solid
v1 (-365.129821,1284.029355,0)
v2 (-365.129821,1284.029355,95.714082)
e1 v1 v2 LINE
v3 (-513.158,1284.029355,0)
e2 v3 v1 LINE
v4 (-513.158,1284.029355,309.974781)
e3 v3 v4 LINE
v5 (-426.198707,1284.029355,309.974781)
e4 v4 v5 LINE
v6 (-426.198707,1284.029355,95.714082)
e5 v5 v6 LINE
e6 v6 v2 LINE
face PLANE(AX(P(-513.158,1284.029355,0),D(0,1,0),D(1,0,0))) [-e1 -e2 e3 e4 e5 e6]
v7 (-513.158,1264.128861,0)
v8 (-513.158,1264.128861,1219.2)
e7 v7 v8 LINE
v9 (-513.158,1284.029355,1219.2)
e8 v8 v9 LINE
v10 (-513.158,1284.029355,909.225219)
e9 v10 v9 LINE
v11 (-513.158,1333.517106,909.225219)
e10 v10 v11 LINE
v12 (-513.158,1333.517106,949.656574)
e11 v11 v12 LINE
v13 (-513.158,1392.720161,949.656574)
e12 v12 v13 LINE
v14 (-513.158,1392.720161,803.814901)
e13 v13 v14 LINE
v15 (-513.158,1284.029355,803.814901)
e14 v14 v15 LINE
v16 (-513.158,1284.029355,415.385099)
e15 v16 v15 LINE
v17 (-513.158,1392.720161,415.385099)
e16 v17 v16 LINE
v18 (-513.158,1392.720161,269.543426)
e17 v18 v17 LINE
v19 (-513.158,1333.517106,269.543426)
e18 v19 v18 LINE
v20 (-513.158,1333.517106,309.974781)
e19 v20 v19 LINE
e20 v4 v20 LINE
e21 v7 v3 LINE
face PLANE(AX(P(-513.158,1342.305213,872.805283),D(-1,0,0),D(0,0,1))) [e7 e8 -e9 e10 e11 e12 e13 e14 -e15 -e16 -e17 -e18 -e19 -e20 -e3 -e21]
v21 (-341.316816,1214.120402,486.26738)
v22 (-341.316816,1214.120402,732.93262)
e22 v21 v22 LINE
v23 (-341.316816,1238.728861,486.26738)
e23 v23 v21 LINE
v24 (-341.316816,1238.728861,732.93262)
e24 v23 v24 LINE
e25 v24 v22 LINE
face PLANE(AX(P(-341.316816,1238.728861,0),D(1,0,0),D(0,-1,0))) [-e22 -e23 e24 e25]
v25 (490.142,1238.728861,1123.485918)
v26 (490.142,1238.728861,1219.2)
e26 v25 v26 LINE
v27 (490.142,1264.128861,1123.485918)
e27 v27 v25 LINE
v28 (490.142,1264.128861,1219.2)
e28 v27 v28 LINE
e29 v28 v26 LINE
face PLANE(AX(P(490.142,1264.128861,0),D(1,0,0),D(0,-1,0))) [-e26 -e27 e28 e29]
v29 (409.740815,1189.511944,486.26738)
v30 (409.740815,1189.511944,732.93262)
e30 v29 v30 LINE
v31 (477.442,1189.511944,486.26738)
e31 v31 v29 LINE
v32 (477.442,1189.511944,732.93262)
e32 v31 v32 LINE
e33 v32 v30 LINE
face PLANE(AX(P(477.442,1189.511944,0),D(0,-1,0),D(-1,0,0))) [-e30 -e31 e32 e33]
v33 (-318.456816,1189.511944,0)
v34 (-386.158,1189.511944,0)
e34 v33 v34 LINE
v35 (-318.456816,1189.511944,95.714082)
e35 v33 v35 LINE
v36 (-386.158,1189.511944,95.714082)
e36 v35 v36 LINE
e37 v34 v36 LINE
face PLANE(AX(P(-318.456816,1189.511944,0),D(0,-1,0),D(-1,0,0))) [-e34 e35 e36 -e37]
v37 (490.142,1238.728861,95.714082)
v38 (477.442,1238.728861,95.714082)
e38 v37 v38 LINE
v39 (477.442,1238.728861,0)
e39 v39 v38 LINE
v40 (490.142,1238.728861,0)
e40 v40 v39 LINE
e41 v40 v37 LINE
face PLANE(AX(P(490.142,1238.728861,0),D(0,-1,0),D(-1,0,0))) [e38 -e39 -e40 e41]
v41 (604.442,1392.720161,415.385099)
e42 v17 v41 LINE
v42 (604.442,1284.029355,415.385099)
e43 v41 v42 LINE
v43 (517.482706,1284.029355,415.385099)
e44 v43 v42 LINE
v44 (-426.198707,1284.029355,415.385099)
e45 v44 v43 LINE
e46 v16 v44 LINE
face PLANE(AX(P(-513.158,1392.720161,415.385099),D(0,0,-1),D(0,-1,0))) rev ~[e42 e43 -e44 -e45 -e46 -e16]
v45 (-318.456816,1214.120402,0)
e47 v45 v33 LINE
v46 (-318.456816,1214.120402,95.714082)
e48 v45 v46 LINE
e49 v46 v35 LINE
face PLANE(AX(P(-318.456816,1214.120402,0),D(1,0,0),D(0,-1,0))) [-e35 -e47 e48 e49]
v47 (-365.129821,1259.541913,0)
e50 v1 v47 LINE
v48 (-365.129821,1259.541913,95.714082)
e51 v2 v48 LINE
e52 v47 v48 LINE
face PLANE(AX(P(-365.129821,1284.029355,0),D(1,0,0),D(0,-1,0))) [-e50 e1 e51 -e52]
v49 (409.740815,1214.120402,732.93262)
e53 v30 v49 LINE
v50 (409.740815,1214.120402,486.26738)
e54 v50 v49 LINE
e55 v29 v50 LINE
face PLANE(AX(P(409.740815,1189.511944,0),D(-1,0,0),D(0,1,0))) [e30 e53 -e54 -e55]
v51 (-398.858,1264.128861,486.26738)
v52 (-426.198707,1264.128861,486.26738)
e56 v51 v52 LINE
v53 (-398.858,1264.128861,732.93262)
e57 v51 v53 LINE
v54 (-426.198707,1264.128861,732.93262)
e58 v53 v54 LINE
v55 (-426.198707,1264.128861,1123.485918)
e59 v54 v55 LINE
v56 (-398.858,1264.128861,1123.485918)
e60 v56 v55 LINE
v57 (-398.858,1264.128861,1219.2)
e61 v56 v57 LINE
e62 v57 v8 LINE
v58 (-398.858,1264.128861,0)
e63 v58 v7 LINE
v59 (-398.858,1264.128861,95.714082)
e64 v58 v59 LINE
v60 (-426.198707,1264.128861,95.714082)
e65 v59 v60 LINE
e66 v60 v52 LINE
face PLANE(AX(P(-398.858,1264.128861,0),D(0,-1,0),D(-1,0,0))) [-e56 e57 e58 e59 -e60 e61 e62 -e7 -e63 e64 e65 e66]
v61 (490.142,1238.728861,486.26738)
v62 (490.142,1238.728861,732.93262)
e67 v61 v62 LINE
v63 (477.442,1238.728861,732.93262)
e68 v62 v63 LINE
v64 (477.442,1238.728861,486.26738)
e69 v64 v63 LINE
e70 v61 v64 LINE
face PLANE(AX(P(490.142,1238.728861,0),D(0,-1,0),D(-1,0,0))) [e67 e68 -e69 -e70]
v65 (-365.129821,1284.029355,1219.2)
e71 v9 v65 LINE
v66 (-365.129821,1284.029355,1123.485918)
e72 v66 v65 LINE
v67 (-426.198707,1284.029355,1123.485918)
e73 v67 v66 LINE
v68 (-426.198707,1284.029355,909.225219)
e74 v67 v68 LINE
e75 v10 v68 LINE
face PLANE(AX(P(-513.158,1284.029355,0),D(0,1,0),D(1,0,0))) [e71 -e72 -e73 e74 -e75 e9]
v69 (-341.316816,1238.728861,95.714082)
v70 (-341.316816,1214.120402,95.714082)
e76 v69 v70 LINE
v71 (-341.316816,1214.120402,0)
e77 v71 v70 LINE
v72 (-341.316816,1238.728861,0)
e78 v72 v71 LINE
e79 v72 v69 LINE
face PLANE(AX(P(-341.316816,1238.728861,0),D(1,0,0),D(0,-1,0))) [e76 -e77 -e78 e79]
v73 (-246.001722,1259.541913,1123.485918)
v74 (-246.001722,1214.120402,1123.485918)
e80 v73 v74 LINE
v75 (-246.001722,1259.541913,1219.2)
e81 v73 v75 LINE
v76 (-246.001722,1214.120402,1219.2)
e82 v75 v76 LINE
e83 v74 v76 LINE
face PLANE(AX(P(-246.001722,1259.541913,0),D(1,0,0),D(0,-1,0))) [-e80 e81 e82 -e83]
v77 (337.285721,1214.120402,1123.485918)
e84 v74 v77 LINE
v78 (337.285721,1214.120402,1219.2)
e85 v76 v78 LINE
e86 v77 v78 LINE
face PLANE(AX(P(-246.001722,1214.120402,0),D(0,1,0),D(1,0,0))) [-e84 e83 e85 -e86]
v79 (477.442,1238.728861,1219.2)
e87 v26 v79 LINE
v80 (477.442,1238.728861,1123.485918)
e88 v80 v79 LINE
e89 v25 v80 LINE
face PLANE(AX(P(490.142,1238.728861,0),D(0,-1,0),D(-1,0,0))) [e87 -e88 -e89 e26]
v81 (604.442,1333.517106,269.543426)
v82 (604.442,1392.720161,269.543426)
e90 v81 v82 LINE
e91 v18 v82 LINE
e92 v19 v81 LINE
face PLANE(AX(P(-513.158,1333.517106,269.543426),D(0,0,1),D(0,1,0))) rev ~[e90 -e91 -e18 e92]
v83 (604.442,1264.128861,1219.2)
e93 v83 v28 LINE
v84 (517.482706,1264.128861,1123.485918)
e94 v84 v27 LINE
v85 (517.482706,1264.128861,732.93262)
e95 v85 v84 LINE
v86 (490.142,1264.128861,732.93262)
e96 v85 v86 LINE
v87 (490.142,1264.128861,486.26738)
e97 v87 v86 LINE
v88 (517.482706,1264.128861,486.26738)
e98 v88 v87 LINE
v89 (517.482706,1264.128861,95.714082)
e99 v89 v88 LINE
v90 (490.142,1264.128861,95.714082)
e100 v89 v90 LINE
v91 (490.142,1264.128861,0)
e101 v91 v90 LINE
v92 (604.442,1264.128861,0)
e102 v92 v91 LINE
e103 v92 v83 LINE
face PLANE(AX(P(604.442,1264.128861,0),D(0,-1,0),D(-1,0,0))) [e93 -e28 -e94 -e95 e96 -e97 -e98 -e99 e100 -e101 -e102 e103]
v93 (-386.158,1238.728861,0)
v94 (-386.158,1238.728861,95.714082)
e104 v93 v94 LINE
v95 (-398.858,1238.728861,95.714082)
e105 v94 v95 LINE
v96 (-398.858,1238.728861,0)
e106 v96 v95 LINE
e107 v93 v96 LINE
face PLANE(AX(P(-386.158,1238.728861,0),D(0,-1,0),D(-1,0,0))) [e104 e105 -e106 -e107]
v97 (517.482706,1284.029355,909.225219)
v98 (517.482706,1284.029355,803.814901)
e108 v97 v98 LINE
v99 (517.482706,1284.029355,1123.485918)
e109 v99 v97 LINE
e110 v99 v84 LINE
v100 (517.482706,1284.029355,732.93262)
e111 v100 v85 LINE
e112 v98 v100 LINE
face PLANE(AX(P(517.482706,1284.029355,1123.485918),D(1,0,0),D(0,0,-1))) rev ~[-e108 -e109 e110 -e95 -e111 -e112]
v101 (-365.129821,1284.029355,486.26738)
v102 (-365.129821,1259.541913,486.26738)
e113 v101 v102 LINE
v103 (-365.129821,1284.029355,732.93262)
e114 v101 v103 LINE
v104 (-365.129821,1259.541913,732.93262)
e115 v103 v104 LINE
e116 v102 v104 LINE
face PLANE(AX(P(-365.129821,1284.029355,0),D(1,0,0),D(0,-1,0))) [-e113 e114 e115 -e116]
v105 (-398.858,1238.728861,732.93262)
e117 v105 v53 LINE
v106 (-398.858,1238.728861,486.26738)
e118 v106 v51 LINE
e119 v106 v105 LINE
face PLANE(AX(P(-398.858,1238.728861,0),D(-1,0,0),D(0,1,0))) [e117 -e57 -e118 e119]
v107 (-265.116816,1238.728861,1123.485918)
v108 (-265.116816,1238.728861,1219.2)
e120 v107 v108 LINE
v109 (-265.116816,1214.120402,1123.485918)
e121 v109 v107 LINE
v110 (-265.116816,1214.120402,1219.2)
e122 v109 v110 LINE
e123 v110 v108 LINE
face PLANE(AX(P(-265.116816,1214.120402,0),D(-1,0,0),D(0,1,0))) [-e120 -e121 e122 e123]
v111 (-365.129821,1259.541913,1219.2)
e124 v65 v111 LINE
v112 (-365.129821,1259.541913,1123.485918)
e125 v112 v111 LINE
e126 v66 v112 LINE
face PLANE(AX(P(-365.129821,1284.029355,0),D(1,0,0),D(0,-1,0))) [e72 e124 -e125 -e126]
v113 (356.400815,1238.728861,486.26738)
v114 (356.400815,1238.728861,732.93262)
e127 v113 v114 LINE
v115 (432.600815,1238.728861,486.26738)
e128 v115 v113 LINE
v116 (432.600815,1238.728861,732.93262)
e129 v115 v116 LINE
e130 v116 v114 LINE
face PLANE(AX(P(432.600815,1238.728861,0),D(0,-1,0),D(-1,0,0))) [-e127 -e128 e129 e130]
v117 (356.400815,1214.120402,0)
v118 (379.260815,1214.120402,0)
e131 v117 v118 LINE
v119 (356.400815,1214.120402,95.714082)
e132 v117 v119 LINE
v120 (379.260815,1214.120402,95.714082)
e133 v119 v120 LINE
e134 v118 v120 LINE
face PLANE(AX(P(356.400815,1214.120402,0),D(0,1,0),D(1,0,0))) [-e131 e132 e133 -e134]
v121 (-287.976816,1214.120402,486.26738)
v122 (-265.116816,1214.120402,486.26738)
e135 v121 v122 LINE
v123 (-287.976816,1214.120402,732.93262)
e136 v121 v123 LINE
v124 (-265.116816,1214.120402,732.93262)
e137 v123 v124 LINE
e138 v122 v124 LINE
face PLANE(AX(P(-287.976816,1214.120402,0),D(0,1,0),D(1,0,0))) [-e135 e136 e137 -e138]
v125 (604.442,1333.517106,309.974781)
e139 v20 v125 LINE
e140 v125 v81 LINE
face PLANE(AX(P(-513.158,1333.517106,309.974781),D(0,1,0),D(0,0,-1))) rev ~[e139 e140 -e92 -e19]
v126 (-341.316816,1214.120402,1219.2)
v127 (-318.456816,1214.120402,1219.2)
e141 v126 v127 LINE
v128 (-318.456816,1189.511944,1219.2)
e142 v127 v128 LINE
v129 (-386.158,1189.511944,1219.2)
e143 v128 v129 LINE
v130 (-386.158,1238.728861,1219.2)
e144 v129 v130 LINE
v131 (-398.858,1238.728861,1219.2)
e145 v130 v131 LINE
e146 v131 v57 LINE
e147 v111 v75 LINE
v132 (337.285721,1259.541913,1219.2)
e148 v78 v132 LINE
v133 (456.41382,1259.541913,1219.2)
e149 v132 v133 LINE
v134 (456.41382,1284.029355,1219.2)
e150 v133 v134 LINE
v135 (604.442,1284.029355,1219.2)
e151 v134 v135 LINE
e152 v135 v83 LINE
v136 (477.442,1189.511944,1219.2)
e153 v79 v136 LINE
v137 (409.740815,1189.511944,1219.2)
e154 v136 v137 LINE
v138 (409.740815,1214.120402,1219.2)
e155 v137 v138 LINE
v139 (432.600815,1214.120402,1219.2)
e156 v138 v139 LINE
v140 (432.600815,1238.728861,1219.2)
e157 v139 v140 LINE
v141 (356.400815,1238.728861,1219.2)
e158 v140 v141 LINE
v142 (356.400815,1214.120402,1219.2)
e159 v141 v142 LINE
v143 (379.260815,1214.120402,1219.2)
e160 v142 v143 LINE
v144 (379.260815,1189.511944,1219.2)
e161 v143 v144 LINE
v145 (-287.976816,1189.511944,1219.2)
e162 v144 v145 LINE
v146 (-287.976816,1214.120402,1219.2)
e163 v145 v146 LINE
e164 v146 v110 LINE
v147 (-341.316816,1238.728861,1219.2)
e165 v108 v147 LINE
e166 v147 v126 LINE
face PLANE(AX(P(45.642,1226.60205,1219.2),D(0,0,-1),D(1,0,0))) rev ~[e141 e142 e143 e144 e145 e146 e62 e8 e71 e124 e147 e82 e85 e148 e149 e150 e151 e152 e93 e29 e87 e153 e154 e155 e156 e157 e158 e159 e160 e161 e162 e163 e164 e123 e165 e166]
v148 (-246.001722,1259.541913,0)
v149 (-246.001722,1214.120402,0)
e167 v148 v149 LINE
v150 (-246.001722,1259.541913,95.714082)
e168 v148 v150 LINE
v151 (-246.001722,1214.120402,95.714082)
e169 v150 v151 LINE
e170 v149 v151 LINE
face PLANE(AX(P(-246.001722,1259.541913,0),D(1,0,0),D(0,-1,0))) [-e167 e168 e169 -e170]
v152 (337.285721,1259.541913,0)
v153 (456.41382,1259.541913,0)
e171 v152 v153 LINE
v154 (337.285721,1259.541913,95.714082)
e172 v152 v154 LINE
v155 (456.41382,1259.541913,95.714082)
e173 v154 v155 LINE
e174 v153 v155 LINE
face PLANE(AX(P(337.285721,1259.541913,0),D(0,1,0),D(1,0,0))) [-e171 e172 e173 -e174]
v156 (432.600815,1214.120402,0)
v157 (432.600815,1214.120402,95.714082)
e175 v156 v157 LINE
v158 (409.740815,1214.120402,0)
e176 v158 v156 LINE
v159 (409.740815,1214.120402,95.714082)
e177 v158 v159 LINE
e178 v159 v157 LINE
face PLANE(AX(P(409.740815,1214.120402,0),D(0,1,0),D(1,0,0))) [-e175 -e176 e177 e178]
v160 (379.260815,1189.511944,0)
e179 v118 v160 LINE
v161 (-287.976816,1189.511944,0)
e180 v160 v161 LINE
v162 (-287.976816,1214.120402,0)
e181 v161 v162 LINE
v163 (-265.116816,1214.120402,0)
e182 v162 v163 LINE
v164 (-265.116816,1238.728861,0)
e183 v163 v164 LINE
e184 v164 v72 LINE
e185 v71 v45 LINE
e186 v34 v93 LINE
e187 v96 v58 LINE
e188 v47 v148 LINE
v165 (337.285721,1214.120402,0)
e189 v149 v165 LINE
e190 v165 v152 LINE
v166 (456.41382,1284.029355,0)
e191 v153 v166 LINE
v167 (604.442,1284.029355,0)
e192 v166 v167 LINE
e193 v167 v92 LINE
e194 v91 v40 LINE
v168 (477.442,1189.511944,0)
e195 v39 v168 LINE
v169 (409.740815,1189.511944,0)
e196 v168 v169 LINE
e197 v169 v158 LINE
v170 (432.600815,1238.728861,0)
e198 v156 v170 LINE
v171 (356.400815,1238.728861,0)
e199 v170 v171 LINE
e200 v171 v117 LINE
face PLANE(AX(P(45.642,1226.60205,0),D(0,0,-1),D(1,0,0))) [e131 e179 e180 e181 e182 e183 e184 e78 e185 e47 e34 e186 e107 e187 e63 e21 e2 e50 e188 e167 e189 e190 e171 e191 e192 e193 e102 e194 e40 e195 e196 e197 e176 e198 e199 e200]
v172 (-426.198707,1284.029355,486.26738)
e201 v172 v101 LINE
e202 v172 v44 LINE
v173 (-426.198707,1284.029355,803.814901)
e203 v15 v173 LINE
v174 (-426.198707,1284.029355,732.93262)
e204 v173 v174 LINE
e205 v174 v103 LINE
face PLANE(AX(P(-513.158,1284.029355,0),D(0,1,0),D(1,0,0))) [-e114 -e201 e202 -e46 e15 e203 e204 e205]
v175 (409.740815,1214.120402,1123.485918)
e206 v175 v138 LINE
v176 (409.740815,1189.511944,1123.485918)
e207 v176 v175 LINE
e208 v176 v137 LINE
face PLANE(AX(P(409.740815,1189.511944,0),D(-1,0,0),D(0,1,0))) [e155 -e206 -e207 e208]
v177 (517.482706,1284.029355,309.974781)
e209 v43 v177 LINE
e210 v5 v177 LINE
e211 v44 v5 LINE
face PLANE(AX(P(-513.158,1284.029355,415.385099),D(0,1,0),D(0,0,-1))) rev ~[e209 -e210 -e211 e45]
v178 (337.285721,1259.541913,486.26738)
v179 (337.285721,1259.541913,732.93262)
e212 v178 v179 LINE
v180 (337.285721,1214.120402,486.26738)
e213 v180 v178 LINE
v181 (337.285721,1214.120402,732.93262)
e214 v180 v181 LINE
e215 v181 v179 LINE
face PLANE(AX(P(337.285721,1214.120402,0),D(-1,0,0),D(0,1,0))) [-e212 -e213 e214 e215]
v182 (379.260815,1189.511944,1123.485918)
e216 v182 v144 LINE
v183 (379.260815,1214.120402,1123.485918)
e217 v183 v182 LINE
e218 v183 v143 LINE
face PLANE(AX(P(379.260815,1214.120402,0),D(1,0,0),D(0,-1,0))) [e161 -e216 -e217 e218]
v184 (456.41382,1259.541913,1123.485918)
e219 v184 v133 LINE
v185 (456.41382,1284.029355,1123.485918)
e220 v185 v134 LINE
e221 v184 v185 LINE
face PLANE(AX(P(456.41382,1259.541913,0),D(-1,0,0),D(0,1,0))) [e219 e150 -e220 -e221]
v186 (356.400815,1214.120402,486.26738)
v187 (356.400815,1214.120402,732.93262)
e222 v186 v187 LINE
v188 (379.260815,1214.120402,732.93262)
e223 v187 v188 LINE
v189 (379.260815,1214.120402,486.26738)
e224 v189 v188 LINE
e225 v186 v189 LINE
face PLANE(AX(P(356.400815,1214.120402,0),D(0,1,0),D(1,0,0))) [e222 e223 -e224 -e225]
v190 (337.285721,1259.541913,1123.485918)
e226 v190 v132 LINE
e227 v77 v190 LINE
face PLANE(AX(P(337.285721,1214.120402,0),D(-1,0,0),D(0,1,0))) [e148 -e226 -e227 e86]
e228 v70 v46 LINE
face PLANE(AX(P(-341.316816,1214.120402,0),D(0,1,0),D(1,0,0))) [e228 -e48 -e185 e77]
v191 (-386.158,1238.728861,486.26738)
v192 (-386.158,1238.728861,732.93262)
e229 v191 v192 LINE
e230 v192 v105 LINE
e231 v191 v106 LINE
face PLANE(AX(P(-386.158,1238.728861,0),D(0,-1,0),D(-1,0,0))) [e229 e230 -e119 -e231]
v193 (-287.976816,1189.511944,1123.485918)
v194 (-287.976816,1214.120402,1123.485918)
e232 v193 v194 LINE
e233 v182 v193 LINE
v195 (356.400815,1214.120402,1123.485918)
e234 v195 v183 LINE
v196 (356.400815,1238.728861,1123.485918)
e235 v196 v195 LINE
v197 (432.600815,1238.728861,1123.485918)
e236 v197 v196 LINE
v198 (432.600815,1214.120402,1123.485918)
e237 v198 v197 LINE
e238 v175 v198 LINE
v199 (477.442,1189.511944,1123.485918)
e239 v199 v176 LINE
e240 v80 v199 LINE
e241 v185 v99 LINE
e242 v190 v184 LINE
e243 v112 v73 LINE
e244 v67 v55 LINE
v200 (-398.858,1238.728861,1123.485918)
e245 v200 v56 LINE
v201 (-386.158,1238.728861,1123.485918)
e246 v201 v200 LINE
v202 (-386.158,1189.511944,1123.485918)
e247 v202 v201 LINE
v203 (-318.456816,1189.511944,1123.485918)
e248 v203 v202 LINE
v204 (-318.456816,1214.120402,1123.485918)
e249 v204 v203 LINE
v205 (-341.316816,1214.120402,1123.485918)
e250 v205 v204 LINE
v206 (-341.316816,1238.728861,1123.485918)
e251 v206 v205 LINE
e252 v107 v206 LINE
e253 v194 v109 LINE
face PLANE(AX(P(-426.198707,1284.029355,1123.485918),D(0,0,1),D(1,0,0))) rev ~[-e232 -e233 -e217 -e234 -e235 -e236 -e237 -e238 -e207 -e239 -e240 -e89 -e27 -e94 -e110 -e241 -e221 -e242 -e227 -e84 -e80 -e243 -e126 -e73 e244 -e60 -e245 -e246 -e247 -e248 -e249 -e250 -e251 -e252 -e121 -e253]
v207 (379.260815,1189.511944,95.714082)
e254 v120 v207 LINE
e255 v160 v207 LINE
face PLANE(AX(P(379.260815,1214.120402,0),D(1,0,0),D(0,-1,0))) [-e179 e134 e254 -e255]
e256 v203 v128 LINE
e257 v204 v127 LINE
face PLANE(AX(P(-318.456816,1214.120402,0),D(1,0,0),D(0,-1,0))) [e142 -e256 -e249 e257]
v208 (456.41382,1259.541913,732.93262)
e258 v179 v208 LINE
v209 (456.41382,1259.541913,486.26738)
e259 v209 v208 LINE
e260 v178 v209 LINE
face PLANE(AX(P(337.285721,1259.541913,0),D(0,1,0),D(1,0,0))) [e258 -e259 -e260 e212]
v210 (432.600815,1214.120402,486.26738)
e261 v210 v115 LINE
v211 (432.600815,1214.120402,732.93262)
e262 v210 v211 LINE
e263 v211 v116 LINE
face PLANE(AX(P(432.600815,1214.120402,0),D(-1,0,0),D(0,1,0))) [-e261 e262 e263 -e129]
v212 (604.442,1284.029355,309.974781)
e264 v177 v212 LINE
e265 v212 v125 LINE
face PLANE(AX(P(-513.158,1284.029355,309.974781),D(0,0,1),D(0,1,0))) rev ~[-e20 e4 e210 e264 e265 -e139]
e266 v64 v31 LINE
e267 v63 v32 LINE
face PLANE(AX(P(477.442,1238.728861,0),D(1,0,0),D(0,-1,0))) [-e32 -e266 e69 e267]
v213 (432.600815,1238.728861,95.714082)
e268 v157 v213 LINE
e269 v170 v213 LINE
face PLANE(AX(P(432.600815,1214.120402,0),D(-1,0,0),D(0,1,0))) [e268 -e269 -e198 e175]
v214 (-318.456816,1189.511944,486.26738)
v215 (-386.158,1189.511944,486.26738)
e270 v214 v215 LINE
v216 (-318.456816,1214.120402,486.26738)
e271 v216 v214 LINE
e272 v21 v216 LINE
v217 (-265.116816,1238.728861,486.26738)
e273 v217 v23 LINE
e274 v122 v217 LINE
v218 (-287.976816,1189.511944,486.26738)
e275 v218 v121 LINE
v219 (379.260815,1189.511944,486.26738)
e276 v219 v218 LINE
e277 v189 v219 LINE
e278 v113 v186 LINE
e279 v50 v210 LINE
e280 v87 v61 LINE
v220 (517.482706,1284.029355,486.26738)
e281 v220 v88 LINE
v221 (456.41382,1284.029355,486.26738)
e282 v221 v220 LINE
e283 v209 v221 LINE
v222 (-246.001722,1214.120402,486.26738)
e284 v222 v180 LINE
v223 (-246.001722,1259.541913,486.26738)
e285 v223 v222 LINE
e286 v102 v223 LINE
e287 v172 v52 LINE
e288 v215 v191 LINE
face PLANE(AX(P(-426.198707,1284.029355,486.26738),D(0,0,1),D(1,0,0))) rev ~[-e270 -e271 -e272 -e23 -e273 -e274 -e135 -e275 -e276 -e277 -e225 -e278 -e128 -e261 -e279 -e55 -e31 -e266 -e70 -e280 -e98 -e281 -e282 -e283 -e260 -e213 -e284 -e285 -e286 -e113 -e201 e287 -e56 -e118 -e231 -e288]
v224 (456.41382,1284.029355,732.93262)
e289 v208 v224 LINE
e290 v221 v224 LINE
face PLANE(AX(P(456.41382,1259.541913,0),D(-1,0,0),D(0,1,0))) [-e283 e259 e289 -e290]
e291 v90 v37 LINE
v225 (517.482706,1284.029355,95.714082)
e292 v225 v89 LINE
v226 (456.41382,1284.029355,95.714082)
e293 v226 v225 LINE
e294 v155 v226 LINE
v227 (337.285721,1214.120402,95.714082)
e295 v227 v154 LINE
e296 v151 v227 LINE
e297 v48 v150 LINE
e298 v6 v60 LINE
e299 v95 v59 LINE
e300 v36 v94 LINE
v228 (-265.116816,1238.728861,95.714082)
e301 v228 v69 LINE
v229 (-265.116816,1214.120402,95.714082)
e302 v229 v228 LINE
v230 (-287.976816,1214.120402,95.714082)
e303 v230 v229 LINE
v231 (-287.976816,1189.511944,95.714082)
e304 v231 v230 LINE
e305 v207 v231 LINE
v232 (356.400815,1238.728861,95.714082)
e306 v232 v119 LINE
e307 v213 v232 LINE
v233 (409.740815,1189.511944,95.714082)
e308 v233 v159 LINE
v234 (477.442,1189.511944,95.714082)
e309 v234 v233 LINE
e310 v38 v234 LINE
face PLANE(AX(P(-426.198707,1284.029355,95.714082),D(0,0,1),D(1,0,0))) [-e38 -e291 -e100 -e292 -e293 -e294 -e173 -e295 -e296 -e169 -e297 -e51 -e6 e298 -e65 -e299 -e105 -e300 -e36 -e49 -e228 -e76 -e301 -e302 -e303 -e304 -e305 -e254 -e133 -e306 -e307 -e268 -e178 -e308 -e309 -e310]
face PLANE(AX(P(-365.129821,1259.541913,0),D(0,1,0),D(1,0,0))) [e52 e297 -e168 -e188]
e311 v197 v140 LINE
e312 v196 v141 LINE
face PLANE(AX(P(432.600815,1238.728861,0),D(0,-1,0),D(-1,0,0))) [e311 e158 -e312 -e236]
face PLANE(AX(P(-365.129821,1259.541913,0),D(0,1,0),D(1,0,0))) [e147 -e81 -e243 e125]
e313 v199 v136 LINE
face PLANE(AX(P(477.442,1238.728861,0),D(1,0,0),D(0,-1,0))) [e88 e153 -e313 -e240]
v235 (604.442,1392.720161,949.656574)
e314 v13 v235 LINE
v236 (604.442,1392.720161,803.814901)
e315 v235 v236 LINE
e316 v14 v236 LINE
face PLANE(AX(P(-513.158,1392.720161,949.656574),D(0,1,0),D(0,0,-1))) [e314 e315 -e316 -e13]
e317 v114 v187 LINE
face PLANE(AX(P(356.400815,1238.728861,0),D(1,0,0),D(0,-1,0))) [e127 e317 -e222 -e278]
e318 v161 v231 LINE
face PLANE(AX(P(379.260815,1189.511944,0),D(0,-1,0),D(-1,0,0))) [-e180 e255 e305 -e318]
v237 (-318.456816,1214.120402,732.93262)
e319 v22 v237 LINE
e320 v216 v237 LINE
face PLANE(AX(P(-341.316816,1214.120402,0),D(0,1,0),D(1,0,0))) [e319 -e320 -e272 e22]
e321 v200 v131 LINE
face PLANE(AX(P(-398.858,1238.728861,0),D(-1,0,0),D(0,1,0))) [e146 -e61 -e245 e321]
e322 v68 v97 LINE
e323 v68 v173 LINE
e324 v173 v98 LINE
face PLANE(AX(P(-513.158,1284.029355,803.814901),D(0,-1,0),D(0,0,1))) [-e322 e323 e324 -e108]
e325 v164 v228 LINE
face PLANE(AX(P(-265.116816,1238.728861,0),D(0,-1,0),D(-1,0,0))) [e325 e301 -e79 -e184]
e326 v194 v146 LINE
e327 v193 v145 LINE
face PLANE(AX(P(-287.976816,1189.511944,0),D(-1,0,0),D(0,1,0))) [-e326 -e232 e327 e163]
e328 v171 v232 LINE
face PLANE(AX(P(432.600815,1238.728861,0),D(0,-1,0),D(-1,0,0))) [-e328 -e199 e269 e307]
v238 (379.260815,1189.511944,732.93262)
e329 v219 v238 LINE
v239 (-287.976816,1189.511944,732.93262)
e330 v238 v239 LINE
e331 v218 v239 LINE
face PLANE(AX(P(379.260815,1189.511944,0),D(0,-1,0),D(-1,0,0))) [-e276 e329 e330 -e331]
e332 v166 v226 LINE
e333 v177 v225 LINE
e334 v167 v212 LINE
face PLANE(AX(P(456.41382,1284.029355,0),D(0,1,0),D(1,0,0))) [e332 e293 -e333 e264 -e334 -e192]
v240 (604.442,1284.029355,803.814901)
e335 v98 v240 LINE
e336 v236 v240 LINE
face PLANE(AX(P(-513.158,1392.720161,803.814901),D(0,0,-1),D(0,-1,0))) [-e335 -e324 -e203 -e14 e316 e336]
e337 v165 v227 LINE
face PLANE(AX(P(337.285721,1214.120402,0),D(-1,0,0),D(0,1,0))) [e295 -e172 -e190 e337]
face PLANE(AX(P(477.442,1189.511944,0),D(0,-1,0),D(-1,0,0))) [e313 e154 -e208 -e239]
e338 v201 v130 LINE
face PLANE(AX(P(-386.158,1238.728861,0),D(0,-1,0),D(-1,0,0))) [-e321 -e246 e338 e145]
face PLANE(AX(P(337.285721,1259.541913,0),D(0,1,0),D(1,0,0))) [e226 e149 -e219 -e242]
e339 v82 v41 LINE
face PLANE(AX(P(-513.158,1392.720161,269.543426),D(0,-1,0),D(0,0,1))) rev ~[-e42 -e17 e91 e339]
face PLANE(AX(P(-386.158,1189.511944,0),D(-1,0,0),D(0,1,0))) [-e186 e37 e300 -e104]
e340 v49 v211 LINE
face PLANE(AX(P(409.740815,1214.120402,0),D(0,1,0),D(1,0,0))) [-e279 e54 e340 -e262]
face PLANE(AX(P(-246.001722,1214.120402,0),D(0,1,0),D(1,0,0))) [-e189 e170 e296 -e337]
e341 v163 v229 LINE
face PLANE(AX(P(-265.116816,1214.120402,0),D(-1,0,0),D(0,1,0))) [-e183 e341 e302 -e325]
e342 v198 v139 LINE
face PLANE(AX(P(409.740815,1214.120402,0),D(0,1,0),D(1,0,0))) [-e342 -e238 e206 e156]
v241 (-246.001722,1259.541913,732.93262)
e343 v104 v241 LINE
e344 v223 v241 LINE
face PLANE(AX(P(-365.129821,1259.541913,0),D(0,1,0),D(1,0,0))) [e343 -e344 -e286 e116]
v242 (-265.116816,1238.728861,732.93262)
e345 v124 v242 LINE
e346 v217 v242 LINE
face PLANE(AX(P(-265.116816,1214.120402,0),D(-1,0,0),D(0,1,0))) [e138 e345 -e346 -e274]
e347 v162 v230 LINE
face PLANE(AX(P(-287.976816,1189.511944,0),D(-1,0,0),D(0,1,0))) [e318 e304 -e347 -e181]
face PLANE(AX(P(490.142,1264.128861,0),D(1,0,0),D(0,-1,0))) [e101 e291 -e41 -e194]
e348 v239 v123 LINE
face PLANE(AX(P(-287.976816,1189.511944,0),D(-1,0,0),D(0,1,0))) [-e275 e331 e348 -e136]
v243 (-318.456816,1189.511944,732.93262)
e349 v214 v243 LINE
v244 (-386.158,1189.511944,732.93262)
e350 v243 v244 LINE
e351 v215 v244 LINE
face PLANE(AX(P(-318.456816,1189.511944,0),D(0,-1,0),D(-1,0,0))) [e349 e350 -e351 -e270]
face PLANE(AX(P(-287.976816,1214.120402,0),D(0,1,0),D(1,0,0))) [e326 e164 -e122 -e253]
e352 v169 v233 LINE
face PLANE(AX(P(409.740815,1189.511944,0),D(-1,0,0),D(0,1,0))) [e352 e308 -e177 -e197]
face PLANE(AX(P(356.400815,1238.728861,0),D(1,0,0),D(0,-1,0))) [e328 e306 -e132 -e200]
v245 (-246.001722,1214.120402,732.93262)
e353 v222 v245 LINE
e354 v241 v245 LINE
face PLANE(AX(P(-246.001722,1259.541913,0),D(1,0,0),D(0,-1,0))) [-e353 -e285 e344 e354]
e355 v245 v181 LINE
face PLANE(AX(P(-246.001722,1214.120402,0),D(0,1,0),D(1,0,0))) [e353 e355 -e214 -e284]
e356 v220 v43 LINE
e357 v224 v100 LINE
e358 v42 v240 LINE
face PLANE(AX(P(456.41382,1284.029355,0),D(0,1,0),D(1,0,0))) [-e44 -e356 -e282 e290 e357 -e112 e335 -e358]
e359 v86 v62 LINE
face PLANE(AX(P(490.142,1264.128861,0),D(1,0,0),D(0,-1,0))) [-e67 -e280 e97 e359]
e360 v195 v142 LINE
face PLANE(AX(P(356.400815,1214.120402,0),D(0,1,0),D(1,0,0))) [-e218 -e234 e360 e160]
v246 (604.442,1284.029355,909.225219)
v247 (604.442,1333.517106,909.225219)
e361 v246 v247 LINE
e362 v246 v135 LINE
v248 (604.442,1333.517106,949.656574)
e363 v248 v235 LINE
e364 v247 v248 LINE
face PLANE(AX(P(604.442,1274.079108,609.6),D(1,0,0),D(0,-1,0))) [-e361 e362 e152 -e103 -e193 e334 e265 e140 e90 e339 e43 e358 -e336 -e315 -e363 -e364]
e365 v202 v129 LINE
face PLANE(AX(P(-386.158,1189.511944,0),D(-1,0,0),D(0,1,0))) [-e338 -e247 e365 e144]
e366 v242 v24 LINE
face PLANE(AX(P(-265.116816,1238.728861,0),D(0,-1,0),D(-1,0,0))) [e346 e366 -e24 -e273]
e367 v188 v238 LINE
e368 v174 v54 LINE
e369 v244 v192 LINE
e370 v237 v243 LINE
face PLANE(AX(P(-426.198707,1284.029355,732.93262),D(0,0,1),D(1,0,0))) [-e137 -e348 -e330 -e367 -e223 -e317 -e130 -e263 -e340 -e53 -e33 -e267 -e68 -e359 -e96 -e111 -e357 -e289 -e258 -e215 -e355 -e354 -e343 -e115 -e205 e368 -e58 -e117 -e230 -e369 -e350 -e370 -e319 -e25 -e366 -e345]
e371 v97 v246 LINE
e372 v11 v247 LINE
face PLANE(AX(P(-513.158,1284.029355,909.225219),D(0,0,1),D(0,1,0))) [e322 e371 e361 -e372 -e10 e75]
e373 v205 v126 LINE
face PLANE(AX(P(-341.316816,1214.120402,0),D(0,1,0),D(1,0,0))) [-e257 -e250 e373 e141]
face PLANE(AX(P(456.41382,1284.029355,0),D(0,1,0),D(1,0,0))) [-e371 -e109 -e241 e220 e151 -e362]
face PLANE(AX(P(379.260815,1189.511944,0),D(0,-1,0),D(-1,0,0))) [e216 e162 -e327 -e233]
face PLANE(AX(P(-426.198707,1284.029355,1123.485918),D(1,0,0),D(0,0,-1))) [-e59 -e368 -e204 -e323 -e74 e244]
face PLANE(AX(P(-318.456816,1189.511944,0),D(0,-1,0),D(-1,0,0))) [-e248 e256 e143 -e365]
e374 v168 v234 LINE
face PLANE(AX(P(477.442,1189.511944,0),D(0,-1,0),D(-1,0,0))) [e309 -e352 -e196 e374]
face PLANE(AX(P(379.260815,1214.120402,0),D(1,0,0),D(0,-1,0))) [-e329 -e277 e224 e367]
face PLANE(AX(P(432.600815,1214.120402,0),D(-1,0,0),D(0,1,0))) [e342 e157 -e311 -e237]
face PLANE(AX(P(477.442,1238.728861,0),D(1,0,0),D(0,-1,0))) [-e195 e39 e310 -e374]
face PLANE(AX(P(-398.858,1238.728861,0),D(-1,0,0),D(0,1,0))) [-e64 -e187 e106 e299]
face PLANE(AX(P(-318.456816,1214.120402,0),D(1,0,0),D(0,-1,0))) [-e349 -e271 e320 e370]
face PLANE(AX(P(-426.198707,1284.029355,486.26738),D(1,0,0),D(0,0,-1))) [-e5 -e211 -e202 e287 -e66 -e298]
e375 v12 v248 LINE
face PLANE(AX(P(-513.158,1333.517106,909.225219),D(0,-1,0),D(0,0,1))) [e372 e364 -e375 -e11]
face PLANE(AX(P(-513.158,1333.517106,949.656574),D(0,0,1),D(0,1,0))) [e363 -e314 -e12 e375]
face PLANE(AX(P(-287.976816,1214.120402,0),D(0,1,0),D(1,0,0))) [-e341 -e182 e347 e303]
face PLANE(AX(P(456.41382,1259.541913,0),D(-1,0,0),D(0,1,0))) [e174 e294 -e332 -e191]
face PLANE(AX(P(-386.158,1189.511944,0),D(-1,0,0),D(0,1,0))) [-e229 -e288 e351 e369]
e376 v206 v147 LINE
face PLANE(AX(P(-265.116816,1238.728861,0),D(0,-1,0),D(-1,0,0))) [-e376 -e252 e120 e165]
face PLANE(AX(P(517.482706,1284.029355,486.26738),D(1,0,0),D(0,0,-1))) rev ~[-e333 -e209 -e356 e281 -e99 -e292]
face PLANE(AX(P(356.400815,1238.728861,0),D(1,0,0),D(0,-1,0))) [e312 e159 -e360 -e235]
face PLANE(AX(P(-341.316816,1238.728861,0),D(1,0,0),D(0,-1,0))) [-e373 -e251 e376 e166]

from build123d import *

# Parameters (mm, degrees)
EXTRUDE1_DEPTH = 1219.2
SKETCH2_W      = 943.681413061
SKETCH2_H      = 390.553297683
EXTRUDE2_DEPTH = 1365.086621936
EXTRUDE3_REACH = 2095.85


with BuildPart() as part:
    # Sketch1 → Extrude1 (new body)
    with BuildSketch(Plane(origin=(0, 0, 0), x_dir=(-1, 0, 0), z_dir=(0, 0, 1))):
        Polygon((-604.441999719, -1264.128861053), (-490.141999719, -1264.128861053), (-490.141999719, -1238.728861053), (-477.441999719, -1238.728861053), (-477.441999719, -1189.511943694), (-409.740815056, -1189.511943694), (-409.740815056, -1214.120402374), (-432.600815056, -1214.120402374), (-432.600815056, -1238.728861053), (-356.400815056, -1238.728861053), (-356.400815056, -1214.120402374), (-379.260815056, -1214.120402374), (-379.260815056, -1189.511943694), (287.976815619, -1189.511943694), (287.976815619, -1214.120402374), (265.116815619, -1214.120402374), (265.116815619, -1238.728861053), (341.316815619, -1238.728861053), (341.316815619, -1214.120402374), (318.456815619, -1214.120402374), (318.456815619, -1189.511943694), (386.158000281, -1189.511943694), (386.158000281, -1238.728861053), (398.858000281, -1238.728861053), (398.858000281, -1264.128861053), (513.158000281, -1264.128861053), (513.158000281, -1284.029355434), (365.129820759, -1284.029355434), (365.129820759, -1259.541912826), (246.001721585, -1259.541912826), (246.001721585, -1214.120402374), (-337.285721023, -1214.120402374), (-337.285721023, -1259.541912826), (-456.413820196, -1259.541912826), (-456.413820196, -1284.029355434), (-604.441999719, -1284.029355434), align=None)
    extrude(amount=EXTRUDE1_DEPTH)

    # Sketch2 → Extrude2 (cut, through all)
    with BuildSketch(Plane(origin=(0, 1284.029355434, 0), x_dir=(1, 0, 0), z_dir=(0, 1, 0))):
        with Locations((45.641999718, -290.990730837)):
            Rectangle(SKETCH2_W, SKETCH2_H)
        with Locations((45.641999718, -928.209269163)):
            Rectangle(SKETCH2_W, SKETCH2_H)
    extrude(amount=-EXTRUDE2_DEPTH, mode=Mode.SUBTRACT)

    # Extrude3: up to this face of the body (flat: up to its plane)
    extrude3_end = Plane(part.part.faces().sort_by_distance((604.441999719, 1274.079108244, 609.6))[0])
    # Sketch3 → Extrude3 (add, up to the picked face)
    with BuildSketch(Plane.ZY.offset(513.158000281), mode=Mode.PRIVATE) as extrude3_sk1:
        Polygon((309.974780867, 1284.029355434), (309.974780867, 1333.517105863), (269.543425995, 1333.517105863), (269.543425995, 1392.72016121), (415.385098923, 1392.72016121), (415.385098923, 1284.029355434), align=None)
    extrude3_tool1 = split(extrude(extrude3_sk1.sketch, amount=-EXTRUDE3_REACH, mode=Mode.PRIVATE), bisect_by=extrude3_end, keep=Keep.BOTH, mode=Mode.PRIVATE)
    # Sketch3 → Extrude3 (add, up to the picked face)
    with BuildSketch(Plane.ZY.offset(513.158000281), mode=Mode.PRIVATE) as extrude3_sk2:
        Polygon((803.814901077, 1284.029355434), (909.225219133, 1284.029355434), (909.225219133, 1333.517105863), (949.656574005, 1333.517105863), (949.656574005, 1392.72016121), (803.814901077, 1392.72016121), align=None)
    extrude3_tool2 = split(extrude(extrude3_sk2.sketch, amount=-EXTRUDE3_REACH, mode=Mode.PRIVATE), bisect_by=extrude3_end, keep=Keep.BOTH, mode=Mode.PRIVATE)
    add(extrude3_tool1.solids().sort_by(Axis((-513.158, 1342.650934, 350.077941), (1, 0, 0)))[0])
    add(extrude3_tool2.solids().sort_by(Axis((-513.158, 1342.650934, 869.122059), (1, 0, 0)))[0])


solid = part.part
